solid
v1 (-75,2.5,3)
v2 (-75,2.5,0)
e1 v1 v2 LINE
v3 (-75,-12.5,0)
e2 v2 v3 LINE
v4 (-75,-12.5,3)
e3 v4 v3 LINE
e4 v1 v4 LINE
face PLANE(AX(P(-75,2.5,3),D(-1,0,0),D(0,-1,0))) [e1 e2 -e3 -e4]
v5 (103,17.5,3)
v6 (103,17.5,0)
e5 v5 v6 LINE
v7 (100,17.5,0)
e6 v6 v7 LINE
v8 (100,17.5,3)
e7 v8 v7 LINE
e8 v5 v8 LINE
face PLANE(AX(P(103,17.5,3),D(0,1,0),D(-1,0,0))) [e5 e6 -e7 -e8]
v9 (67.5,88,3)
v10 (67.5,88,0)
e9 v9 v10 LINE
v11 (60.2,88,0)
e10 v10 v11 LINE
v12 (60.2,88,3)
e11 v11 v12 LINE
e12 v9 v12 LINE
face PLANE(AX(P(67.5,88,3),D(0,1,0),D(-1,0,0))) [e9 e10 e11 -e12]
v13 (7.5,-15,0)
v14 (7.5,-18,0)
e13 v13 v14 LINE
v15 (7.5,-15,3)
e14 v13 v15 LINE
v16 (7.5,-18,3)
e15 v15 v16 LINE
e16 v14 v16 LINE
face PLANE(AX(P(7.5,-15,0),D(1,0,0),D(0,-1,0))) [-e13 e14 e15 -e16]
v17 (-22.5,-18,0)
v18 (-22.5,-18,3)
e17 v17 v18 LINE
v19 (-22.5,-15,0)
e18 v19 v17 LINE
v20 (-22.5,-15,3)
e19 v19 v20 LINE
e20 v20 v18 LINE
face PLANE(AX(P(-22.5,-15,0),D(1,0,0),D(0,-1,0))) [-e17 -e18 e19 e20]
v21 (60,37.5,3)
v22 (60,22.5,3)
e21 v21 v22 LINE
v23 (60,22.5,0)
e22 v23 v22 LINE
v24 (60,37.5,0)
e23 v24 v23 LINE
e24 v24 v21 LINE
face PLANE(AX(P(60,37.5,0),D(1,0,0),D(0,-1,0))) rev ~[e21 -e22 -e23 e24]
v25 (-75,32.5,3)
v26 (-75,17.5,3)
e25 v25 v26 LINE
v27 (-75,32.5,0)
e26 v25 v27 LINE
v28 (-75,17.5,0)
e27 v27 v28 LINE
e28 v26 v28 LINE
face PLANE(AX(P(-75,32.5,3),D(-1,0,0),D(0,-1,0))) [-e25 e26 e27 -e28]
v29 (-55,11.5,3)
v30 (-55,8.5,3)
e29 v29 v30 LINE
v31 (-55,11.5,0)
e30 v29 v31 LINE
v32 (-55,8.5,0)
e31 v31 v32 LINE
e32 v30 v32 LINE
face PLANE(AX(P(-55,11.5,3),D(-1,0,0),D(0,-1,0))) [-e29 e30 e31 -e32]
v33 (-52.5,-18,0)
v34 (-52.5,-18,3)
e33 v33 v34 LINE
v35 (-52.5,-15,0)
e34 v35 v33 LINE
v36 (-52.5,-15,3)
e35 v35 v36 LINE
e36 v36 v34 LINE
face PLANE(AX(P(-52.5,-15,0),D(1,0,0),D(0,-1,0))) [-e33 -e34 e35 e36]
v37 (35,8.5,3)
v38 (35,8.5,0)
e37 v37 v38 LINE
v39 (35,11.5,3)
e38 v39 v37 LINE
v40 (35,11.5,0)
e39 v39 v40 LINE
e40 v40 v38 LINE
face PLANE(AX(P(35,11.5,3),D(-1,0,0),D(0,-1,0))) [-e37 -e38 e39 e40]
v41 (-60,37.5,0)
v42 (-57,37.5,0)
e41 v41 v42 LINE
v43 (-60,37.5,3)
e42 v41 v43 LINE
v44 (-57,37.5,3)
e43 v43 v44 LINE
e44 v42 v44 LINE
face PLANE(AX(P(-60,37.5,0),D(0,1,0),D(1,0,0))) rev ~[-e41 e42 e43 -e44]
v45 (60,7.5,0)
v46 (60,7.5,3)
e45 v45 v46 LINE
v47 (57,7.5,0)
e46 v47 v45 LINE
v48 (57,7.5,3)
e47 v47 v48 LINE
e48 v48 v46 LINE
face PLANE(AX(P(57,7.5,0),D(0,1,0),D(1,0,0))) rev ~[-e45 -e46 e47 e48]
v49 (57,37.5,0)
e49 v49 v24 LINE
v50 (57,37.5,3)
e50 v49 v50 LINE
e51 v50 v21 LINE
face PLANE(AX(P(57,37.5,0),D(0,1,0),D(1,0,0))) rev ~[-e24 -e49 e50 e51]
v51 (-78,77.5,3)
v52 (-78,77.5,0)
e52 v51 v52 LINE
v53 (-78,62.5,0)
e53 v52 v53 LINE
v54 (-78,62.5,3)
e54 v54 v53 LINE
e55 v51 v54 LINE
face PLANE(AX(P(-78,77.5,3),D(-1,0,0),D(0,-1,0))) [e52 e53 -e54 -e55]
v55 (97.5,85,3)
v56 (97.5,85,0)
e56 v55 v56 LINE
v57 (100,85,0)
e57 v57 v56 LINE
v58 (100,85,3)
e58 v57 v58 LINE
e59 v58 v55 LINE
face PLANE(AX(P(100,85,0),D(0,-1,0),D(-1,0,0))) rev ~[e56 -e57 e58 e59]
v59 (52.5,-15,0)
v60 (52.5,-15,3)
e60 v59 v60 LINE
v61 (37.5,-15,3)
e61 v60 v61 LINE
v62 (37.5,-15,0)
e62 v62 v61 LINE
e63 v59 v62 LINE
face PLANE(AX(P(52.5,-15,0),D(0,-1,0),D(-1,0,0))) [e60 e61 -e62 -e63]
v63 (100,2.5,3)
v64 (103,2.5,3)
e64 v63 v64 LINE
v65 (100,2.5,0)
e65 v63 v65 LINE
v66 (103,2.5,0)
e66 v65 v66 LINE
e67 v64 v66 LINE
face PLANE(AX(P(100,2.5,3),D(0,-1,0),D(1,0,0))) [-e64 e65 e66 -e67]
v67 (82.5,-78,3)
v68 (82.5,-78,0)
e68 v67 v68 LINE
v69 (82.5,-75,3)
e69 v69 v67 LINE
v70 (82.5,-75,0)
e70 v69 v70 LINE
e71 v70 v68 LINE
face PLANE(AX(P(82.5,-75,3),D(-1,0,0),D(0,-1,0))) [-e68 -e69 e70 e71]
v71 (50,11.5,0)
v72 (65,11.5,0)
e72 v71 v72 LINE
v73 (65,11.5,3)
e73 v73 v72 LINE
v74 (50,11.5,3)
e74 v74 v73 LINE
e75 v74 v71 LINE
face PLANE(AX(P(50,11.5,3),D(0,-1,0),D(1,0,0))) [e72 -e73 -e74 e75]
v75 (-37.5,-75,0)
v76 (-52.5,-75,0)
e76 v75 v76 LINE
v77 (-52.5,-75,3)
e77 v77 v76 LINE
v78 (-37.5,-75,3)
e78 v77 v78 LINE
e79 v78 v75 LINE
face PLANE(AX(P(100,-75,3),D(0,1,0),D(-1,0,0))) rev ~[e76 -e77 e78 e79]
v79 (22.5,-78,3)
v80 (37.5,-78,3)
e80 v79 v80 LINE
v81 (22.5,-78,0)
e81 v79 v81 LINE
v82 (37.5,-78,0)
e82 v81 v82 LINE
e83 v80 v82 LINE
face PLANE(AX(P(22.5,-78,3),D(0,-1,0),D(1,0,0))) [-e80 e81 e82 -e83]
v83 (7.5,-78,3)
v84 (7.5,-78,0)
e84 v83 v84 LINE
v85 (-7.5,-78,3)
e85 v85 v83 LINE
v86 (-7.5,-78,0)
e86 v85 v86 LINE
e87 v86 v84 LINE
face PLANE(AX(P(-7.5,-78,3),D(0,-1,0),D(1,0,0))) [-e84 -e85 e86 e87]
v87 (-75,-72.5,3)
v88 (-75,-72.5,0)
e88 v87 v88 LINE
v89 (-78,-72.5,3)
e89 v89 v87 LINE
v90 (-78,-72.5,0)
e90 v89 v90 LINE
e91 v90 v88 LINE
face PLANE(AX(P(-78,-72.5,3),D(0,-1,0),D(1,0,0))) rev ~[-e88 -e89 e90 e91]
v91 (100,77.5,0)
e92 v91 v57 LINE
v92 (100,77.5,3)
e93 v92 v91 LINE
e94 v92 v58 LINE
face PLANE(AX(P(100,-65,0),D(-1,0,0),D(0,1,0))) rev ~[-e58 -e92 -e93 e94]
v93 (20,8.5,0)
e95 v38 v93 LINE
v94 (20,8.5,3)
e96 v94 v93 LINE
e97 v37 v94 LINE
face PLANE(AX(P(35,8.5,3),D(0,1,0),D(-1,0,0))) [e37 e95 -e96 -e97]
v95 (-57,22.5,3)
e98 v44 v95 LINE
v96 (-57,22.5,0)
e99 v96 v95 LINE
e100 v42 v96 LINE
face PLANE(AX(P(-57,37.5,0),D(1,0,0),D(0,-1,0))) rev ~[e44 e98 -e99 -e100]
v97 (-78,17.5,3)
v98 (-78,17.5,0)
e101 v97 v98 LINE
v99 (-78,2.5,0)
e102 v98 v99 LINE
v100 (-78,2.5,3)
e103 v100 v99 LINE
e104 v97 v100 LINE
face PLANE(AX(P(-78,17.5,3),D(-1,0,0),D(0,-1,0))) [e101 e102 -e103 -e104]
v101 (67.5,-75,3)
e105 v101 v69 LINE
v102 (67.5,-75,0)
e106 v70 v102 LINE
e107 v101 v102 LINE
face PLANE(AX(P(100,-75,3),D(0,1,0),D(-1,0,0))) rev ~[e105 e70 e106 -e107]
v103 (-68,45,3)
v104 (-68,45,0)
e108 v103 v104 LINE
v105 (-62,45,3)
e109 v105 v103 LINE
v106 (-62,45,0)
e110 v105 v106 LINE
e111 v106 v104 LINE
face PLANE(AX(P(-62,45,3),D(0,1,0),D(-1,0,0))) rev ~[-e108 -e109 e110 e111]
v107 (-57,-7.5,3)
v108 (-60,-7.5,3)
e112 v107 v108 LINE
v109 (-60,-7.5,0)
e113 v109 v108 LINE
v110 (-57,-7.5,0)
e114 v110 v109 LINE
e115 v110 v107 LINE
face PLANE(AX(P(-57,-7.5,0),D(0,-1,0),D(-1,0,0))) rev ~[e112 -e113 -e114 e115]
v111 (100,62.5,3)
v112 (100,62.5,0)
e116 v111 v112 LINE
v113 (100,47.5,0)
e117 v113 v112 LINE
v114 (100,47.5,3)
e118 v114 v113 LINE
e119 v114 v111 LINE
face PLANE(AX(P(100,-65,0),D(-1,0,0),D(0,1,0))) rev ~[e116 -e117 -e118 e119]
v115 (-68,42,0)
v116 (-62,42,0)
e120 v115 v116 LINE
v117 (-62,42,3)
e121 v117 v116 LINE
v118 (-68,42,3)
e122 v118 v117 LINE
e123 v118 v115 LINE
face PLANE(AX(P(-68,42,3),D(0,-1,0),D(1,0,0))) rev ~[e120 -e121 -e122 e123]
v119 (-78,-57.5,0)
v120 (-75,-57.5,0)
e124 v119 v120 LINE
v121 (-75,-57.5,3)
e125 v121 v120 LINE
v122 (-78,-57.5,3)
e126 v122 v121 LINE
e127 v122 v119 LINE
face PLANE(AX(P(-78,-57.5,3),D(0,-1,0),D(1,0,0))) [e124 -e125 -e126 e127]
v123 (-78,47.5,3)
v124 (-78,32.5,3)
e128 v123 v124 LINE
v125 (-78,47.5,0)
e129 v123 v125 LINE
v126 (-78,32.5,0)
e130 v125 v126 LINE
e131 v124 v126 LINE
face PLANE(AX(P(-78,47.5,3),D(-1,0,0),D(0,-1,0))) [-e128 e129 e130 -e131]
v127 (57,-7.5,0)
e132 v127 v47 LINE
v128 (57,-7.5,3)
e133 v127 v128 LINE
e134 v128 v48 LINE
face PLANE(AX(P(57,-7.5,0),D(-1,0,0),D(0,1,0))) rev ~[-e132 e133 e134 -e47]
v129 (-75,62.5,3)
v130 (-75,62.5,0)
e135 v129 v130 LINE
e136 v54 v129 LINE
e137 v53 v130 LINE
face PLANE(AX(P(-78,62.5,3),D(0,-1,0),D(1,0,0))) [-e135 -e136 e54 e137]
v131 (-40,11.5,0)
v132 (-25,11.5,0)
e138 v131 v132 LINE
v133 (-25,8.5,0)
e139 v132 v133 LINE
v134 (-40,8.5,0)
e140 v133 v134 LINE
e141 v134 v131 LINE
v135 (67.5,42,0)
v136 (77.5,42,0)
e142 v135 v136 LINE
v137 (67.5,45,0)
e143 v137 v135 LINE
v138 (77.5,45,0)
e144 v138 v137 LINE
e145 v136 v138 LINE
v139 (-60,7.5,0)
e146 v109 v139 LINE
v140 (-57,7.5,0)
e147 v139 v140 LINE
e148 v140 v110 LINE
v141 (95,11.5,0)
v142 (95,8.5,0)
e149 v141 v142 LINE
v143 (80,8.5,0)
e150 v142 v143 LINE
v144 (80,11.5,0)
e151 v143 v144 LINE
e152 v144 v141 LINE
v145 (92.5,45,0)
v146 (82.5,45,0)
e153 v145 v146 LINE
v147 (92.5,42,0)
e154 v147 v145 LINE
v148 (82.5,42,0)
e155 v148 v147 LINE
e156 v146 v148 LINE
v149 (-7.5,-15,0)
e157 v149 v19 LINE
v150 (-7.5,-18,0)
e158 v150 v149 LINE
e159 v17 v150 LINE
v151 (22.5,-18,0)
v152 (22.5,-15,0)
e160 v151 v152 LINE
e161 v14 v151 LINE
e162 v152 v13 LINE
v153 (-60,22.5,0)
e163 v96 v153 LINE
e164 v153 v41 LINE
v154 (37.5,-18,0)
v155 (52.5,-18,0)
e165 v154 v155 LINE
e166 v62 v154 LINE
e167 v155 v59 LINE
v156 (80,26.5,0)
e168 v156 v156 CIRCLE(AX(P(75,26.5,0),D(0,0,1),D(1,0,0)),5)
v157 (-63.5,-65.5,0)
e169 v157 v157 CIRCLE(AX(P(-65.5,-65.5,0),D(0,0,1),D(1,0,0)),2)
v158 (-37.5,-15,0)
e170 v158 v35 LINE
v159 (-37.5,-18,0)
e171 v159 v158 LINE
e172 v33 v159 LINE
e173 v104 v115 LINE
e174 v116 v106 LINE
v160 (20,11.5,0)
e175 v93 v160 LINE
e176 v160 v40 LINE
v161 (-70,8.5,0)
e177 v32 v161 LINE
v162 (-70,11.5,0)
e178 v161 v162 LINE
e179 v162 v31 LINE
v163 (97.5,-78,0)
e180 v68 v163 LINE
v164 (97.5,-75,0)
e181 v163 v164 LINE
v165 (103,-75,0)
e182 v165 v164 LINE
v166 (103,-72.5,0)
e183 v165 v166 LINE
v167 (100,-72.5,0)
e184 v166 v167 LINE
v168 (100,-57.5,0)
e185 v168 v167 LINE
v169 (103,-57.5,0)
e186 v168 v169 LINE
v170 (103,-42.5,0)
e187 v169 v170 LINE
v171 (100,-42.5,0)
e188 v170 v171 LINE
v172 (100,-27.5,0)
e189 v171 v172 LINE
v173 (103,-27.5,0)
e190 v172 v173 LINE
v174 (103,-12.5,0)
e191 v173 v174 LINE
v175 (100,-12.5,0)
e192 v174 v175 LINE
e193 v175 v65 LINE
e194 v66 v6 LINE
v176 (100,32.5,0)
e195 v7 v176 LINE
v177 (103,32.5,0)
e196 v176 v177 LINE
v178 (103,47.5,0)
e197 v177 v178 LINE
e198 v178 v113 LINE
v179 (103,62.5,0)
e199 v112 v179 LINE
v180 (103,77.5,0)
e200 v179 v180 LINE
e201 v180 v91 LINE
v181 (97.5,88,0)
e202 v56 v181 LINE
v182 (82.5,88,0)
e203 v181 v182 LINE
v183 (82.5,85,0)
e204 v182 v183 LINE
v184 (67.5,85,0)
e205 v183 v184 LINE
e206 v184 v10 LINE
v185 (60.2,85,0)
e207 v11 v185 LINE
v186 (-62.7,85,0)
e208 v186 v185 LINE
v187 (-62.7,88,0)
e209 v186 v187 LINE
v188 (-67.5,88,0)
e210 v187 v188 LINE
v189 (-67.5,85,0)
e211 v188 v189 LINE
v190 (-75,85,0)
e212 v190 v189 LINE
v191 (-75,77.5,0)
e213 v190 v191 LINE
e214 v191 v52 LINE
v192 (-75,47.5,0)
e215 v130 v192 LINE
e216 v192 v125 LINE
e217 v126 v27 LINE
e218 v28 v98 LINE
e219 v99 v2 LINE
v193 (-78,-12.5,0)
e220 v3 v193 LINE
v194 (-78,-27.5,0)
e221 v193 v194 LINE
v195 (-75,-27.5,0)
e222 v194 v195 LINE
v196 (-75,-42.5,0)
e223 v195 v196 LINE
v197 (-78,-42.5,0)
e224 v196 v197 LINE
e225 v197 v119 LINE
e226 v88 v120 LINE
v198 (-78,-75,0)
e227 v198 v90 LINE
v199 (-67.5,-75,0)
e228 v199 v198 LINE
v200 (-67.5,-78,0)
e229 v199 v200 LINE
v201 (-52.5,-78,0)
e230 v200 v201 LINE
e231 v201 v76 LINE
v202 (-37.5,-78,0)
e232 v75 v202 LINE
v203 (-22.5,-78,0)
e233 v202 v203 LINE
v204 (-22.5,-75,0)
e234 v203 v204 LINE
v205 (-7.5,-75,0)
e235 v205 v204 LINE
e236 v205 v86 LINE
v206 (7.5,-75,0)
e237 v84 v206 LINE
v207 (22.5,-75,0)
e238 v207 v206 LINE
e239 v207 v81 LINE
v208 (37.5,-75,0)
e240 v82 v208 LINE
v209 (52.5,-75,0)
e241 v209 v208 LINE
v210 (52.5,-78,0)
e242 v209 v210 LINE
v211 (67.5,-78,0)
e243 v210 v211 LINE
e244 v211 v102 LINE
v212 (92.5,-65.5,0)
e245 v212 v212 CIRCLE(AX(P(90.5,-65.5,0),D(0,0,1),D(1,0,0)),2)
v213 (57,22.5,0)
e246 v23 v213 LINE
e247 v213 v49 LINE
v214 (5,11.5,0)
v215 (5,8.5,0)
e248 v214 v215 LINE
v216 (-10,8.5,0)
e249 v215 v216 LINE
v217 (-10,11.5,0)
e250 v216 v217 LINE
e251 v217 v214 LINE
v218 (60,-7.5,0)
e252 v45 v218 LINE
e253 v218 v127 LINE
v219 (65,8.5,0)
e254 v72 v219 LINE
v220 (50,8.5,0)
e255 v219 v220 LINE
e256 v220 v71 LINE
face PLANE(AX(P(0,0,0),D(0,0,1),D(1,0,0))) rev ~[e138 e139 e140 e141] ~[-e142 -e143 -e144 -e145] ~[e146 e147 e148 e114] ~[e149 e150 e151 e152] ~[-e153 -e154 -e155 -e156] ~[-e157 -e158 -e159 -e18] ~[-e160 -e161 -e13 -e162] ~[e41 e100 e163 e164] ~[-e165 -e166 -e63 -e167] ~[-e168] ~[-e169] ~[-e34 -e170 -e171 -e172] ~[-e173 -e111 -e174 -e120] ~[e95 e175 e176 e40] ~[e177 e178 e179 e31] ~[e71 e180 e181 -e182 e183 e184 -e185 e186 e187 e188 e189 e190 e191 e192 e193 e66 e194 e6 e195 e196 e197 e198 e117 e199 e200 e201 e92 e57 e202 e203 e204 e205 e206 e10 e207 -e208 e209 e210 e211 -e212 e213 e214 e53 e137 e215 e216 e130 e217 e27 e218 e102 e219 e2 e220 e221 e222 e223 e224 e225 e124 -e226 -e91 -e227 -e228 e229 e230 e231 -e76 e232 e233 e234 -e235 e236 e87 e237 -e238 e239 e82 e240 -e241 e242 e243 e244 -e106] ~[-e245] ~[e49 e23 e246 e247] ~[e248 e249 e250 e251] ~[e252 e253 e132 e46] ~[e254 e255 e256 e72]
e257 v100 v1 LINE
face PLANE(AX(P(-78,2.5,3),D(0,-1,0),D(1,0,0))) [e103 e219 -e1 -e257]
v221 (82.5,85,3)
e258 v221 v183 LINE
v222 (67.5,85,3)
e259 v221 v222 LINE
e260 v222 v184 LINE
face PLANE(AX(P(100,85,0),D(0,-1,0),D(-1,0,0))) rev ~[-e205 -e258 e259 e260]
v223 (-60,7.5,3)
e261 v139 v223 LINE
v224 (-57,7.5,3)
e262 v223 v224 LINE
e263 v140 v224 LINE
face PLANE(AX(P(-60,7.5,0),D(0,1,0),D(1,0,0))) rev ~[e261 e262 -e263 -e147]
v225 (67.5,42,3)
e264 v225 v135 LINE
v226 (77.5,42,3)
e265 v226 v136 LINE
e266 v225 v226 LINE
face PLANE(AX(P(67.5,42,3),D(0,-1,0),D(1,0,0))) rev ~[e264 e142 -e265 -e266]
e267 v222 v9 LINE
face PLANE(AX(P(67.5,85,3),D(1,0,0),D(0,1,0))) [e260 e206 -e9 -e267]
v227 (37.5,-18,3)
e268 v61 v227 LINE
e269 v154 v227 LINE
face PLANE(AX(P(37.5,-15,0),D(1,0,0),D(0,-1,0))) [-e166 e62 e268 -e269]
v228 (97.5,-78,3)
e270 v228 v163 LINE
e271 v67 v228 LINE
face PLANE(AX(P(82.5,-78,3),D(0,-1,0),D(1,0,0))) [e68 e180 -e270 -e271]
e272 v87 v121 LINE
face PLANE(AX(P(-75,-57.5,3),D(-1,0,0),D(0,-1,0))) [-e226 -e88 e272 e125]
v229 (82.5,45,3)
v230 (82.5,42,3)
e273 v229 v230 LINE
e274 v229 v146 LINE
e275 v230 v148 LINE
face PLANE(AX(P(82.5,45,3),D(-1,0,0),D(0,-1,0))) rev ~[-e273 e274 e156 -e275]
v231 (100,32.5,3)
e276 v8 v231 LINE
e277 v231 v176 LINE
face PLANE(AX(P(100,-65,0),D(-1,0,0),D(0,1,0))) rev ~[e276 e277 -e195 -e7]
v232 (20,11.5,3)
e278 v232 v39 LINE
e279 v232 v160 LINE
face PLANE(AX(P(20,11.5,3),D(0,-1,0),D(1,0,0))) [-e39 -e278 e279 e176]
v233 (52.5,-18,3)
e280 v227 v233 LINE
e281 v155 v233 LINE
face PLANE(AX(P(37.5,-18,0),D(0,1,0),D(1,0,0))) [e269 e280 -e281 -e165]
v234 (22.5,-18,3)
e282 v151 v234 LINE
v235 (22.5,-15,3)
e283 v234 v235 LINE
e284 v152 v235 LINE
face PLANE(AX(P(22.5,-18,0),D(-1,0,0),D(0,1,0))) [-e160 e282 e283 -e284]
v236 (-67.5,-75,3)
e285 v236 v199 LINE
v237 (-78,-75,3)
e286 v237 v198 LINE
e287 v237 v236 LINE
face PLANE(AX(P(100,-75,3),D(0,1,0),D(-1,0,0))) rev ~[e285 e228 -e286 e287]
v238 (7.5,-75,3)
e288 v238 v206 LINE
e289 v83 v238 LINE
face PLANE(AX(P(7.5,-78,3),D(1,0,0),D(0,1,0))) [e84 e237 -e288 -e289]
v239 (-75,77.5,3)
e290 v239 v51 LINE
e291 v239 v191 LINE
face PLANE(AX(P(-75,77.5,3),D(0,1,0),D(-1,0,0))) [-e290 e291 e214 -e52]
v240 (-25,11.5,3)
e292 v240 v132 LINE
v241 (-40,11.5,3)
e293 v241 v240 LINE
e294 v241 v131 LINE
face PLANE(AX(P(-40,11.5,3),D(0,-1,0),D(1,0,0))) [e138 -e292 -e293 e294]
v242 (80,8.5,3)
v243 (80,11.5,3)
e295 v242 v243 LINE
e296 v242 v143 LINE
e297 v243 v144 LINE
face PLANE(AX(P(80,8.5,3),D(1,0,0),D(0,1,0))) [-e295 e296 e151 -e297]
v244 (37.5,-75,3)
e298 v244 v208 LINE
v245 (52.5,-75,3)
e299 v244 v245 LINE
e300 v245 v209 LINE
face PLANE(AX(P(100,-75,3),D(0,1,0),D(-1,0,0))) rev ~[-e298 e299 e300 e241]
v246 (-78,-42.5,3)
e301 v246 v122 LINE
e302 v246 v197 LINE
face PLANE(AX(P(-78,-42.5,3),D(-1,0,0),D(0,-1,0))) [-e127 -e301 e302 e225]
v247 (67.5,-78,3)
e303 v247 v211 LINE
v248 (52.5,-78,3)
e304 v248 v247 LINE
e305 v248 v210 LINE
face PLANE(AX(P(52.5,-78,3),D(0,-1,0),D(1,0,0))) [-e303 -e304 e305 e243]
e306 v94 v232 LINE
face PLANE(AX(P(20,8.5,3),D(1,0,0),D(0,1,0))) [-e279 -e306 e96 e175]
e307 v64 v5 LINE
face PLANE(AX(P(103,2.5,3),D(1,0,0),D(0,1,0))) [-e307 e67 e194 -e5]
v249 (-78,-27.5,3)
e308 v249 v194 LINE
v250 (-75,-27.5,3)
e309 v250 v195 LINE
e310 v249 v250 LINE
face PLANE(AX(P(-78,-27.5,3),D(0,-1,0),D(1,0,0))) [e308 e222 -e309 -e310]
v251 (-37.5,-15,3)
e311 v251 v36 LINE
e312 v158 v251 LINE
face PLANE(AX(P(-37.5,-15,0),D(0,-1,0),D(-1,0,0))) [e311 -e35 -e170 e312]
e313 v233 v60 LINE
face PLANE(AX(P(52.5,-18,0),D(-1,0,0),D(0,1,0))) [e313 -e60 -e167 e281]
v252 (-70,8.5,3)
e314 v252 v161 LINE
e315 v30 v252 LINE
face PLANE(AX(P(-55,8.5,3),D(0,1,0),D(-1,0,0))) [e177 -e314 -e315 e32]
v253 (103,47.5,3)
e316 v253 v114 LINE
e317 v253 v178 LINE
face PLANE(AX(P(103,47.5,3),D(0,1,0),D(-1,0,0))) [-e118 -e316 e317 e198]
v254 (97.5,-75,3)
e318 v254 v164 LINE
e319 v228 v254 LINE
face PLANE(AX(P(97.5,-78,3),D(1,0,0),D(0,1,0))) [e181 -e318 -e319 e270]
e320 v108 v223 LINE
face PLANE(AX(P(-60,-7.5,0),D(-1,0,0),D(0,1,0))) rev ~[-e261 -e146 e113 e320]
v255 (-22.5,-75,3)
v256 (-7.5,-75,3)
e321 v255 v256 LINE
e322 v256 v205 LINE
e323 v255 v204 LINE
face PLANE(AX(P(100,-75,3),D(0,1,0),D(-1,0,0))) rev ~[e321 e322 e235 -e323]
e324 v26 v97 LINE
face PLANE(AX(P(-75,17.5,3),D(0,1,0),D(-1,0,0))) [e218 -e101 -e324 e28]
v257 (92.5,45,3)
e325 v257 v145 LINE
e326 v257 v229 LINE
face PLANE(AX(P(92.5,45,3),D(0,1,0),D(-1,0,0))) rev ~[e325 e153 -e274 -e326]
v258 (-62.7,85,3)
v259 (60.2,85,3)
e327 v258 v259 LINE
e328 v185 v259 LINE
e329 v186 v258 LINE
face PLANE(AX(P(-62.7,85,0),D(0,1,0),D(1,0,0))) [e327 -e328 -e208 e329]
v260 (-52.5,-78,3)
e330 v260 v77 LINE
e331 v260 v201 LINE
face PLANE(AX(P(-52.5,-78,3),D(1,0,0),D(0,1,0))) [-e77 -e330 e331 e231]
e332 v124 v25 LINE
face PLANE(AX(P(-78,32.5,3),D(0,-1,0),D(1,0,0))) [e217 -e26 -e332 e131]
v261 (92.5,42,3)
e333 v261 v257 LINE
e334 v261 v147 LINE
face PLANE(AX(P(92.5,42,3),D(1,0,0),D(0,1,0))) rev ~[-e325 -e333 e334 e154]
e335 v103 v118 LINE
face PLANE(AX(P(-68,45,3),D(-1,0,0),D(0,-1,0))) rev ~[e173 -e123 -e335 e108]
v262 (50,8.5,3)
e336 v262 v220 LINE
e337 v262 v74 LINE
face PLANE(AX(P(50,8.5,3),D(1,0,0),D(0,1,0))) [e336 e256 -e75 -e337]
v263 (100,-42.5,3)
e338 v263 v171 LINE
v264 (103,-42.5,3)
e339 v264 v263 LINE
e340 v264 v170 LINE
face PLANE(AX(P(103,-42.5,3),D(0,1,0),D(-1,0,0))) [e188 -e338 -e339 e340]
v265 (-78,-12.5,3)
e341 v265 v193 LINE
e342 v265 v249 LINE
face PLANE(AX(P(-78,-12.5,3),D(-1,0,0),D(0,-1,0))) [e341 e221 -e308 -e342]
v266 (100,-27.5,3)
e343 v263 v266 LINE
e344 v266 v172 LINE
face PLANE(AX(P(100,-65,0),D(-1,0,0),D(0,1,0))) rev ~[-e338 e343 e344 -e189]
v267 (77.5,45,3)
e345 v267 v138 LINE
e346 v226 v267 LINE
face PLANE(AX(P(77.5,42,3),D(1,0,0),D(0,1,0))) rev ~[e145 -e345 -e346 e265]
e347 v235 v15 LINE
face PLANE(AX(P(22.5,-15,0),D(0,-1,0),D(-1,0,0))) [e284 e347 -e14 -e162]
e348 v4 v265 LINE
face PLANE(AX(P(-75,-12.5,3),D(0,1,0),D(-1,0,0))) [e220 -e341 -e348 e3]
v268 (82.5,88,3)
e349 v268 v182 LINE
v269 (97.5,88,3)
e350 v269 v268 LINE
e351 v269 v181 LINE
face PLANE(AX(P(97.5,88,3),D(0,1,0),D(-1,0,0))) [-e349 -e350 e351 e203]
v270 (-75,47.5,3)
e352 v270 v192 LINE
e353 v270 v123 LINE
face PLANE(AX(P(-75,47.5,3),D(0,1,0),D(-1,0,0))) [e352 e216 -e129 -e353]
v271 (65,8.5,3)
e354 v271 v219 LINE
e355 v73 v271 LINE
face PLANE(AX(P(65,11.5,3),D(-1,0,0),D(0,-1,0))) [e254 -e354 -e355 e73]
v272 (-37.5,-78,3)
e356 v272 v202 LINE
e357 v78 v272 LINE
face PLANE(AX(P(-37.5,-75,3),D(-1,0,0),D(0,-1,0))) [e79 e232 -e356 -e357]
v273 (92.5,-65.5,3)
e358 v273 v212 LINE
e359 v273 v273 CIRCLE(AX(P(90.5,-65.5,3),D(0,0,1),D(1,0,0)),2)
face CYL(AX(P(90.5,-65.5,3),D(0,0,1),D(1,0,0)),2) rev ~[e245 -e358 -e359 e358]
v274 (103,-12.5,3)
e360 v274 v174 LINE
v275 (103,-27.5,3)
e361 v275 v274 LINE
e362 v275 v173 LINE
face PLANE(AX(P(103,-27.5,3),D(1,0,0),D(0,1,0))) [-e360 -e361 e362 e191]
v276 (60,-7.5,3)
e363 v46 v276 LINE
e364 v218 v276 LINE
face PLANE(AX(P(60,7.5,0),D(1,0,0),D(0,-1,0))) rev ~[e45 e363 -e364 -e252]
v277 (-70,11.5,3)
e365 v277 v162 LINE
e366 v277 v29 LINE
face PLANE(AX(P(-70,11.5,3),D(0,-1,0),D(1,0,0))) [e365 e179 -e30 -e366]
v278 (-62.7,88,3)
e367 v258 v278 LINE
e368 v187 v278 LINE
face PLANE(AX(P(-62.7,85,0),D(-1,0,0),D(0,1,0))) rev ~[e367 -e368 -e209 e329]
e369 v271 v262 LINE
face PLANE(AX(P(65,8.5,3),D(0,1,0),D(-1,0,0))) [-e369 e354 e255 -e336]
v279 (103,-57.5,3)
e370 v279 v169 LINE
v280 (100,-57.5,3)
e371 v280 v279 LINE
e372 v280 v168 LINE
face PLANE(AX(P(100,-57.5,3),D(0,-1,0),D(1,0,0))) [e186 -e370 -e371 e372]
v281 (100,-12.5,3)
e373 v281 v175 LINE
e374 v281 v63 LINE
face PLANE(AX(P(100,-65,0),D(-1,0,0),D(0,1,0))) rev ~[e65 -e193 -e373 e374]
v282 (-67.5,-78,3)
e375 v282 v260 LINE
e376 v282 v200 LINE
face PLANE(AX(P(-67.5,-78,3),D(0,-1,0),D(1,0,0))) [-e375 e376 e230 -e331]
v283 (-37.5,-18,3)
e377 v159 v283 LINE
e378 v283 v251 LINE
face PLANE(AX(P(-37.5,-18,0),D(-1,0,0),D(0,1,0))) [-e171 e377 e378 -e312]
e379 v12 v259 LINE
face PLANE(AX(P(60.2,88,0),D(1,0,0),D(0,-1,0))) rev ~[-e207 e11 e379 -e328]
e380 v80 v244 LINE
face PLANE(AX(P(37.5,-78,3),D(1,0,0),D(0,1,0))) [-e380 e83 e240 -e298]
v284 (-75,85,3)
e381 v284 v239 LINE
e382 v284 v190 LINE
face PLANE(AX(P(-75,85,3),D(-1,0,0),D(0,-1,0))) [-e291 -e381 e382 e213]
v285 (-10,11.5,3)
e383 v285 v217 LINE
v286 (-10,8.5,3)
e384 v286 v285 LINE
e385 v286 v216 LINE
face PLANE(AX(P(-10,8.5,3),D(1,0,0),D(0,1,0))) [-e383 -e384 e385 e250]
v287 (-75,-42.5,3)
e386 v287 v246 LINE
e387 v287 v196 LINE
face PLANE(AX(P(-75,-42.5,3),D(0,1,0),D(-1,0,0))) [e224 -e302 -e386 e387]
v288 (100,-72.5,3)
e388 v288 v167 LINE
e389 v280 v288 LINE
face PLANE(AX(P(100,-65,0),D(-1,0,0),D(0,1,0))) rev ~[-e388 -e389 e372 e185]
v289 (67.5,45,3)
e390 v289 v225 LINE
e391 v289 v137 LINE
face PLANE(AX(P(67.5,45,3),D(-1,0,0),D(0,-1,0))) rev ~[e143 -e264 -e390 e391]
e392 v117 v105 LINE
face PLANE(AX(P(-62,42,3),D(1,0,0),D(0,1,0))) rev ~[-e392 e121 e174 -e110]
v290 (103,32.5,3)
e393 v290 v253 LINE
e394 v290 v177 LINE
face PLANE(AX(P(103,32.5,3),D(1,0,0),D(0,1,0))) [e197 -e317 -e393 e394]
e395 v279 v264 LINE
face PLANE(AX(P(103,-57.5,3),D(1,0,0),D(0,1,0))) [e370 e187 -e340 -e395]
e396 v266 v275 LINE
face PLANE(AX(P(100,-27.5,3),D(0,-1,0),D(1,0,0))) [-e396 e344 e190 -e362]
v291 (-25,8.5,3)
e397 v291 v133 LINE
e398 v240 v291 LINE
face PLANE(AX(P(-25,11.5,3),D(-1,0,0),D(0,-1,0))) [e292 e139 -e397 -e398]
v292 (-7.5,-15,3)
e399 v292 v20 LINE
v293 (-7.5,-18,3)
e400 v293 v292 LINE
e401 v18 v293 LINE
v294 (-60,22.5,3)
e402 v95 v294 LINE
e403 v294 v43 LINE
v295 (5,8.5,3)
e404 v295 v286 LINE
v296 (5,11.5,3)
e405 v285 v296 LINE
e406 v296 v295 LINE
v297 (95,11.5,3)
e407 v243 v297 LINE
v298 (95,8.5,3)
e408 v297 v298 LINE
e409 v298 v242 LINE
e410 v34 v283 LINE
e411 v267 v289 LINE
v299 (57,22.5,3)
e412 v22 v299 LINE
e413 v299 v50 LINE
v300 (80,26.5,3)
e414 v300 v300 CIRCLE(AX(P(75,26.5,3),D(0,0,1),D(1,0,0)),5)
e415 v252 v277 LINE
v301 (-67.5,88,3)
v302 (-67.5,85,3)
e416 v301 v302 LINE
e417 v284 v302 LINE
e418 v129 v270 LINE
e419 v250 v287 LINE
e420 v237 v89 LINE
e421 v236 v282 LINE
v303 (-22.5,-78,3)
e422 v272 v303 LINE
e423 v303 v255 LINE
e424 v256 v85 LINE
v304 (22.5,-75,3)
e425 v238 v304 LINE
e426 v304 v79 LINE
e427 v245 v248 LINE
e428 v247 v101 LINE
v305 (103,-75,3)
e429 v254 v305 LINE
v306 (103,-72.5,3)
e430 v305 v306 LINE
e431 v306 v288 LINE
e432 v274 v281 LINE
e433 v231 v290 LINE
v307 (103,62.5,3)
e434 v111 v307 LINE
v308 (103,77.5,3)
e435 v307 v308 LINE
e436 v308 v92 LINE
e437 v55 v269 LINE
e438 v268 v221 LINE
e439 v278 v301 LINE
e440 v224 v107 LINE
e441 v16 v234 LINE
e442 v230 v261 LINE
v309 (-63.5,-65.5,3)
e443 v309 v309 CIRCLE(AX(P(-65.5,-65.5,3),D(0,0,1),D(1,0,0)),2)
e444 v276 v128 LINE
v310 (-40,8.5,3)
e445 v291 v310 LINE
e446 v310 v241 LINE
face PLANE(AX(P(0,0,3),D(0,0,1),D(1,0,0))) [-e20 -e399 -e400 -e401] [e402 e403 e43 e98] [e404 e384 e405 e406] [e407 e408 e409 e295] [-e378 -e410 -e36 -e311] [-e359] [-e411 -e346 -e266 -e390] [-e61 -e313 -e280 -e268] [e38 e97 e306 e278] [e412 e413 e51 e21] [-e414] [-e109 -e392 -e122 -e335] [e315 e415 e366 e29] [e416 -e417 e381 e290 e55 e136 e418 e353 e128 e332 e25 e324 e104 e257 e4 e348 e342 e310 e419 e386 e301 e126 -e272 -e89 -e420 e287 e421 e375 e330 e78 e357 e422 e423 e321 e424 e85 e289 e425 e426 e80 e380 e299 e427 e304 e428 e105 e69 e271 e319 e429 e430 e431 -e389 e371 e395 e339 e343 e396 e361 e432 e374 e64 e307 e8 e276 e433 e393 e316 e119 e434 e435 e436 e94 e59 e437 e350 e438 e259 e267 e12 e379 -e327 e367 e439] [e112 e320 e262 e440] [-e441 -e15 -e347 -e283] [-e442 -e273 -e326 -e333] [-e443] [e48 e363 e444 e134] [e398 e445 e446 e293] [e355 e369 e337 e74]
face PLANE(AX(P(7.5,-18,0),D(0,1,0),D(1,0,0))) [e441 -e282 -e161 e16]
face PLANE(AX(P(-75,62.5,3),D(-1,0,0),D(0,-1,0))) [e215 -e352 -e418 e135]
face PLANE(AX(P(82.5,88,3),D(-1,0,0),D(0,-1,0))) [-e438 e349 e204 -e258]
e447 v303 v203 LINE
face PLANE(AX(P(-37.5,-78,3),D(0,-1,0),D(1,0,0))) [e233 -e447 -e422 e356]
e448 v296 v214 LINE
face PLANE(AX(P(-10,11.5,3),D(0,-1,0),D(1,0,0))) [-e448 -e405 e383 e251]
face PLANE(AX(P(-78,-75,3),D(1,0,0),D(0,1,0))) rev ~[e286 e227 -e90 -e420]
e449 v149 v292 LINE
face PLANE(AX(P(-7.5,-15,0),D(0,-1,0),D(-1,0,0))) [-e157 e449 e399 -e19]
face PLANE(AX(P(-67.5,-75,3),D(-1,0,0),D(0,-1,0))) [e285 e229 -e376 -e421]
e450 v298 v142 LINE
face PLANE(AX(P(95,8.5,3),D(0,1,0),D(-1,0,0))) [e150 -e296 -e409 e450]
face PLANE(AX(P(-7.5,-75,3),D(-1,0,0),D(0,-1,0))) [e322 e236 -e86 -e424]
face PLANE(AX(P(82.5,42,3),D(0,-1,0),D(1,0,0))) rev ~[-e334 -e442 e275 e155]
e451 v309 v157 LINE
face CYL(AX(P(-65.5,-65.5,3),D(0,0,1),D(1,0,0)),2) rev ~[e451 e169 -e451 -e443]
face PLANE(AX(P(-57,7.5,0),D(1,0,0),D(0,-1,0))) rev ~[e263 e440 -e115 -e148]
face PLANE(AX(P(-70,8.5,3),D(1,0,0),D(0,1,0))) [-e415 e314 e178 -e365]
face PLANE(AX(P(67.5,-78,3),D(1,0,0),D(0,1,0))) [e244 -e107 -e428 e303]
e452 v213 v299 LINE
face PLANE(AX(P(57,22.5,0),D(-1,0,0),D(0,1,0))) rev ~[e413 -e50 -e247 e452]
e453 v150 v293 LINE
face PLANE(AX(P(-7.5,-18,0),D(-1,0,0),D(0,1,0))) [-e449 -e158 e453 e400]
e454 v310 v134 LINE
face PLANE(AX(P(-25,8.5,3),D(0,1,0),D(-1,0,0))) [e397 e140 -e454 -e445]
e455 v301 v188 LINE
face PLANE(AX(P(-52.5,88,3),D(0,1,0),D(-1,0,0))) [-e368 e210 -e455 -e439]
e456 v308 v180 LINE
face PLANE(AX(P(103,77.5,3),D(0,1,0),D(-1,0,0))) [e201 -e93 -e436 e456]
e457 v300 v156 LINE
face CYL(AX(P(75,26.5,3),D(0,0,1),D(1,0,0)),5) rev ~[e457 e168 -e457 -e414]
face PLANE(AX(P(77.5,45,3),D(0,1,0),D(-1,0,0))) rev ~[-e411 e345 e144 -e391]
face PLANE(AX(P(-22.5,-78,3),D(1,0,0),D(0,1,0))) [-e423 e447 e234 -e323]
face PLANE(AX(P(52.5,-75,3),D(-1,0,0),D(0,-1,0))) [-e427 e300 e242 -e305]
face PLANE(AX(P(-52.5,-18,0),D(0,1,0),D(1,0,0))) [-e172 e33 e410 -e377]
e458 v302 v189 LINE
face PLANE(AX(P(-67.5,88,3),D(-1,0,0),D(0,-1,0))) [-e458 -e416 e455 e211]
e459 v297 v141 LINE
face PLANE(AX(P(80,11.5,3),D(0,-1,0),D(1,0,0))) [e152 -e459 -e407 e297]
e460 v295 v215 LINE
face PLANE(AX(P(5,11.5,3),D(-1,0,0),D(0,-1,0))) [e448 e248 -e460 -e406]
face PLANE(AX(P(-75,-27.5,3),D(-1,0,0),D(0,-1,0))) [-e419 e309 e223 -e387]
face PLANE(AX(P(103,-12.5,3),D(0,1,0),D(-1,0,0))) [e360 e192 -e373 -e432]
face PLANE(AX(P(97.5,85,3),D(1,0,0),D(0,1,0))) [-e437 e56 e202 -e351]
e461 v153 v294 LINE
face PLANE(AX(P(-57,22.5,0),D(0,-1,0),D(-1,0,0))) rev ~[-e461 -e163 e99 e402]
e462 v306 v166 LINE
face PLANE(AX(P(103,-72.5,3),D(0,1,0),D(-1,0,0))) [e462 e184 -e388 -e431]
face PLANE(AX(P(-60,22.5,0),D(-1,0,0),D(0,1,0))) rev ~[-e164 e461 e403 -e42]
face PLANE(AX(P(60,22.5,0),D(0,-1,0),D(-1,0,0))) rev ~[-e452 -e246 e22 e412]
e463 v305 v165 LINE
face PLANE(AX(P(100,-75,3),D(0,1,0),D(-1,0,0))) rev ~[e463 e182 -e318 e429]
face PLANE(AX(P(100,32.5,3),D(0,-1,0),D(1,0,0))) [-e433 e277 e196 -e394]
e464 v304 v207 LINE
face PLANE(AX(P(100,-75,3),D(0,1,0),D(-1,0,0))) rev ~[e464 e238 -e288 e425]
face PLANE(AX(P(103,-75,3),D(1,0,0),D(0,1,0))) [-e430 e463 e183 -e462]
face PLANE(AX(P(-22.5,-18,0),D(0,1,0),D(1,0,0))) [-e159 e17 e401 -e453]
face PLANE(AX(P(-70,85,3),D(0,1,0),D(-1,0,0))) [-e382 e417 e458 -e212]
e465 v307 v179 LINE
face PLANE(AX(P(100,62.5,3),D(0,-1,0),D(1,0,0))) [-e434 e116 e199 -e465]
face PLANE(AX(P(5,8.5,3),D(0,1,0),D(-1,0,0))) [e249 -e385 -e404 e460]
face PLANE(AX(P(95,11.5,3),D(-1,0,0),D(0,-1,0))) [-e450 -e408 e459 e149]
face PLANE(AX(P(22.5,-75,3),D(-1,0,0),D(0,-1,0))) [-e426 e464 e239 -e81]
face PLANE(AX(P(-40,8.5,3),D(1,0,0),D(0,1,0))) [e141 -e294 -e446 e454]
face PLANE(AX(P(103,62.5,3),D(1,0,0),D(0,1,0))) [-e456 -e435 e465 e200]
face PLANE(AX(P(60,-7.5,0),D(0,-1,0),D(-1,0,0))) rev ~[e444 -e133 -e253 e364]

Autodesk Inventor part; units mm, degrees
ref_plane "YZ Plane" through (0, 0, 0) normal (1, 0, 0) x (0, 1, 0)
ref_plane "XZ Plane" through (0, 0, 0) normal (0, 1, 0) x (-1, 0, 0)
ref_plane "XY Plane" through (0, 0, 0) normal (0, 0, 1) x (1, 0, 0)
sketch "Sketch1" plane through (0, 0, 0) normal (0, 0, 1) x (1, 0, 0)
  line L0 (-70, -65) -> (70, -65)
  line L1 (-70, 65) -> (-70, -65)
  line L2 (-70, -65) -> (70, 65) construction
  line L3 (70, -65) -> (-70, 65) construction
  line L4 (-52.5, -18) -> (-37.5, -18)
  line L5 (-37.5, -18) -> (-37.5, -15)
  line L6 (-37.5, -15) -> (-52.5, -15)
  line L7 (-52.5, -15) -> (-52.5, -18)
  line L8 (-52.5, -18) -> (-37.5, -15) construction
  line L9 (-37.5, -18) -> (-52.5, -15) construction
  line L10 (-22.5, -18) -> (-7.5, -18)
  line L11 (-7.5, -18) -> (-7.5, -15)
  line L12 (-7.5, -15) -> (-22.5, -15)
  line L13 (-22.5, -15) -> (-22.5, -18)
  line L14 (-22.5, -18) -> (-7.5, -15) construction
  line L15 (-7.5, -18) -> (-22.5, -15) construction
  line L16 (7.5, -18) -> (22.5, -18)
  line L17 (22.5, -18) -> (22.5, -15)
  line L18 (22.5, -15) -> (7.5, -15)
  line L19 (7.5, -15) -> (7.5, -18)
  line L20 (7.5, -18) -> (22.5, -15) construction
  line L21 (22.5, -18) -> (7.5, -15) construction
  line L22 (37.5, -18) -> (52.5, -18)
  line L23 (52.5, -18) -> (52.5, -15)
  line L24 (52.5, -15) -> (37.5, -15)
  line L25 (37.5, -15) -> (37.5, -18)
  line L26 (37.5, -18) -> (52.5, -15) construction
  line L27 (52.5, -18) -> (37.5, -15) construction
  line L28 (-52.5, -15) -> (-57, -15) construction
  line L29 (-57, -15) -> (-57, -7.5) construction
  line L30 (-57, -7.5) -> (-60, -7.5)
  line L31 (-60, -7.5) -> (-60, 7.5)
  line L32 (-60, 7.5) -> (-57, 7.5)
  line L33 (-57, 7.5) -> (-57, -7.5)
  line L34 (-60, 37.5) -> (-57, 37.5)
  line L35 (-60, 22.5) -> (-60, 37.5)
  line L36 (-57, 37.5) -> (-57, 22.5)
  line L37 (-57, 22.5) -> (-60, 22.5)
  line L38 (57, 7.5) -> (60, 7.5)
  line L39 (57, -7.5) -> (57, 7.5)
  line L40 (60, 7.5) -> (60, -7.5)
  line L41 (60, -7.5) -> (57, -7.5)
  line L42 (57, 37.5) -> (60, 37.5)
  line L43 (57, 22.5) -> (57, 37.5)
  line L44 (60, 37.5) -> (60, 22.5)
  line L45 (60, 22.5) -> (57, 22.5)
  line L46 (70, -65) -> (100, -65)
  line L47 (100, -65) -> (100, 85)
  line L48 (100, 85) -> (-70, 85)
  line L49 (-70, 85) -> (-70, 65)
  point P0 (0, 0)
  point P1 (-45, -16.5)
  point P2 (-15, -16.5)
  point P3 (15, -16.5)
  point P4 (45, -16.5)
  dimension "d0" = 140
  dimension "d1" = 130
  dimension "d2" = 15
  dimension "d3" = 3
  dimension "d4" = 17.5
  dimension "d8" = 30
  dimension "d13" = 4.5
  dimension "d14" = 7.5
  dimension "d15" = 3
  dimension "d16" = 15
  dimension "d19" = 30
  dimension "d22" = 117
  dimension "d27" = 30
  dimension "d28" = 150
  dimension "d29" = 47.121
  dimension "d30" = 47.121
  dimension "d31" = 57.5
extrude "Extrusion1" add sketch "Sketch1" along normal blind 3
sketch "Sketch2" plane through (0, 0, 3) normal (0, 0, 1) x (1, 0, 0)
  line L0 (100, 85) -> (-70, 85) projected
  line L1 (-67.5, 85) -> (-52.5, 85)
  line L2 (-52.5, 85) -> (-52.5, 88)
  line L3 (-52.5, 88) -> (-67.5, 88)
  line L4 (-67.5, 88) -> (-67.5, 85)
  line L5 (-70, 85) -> (-70, -65) projected
  line L6 (-37.5, 85) -> (-22.5, 85)
  line L7 (-22.5, 85) -> (-22.5, 88)
  line L8 (-22.5, 88) -> (-37.5, 88)
  line L9 (-37.5, 88) -> (-37.5, 85)
  line L10 (-7.5, 85) -> (7.5, 85)
  line L11 (7.5, 85) -> (7.5, 88)
  line L12 (7.5, 88) -> (-7.5, 88)
  line L13 (-7.5, 88) -> (-7.5, 85)
  line L14 (22.5, 85) -> (37.5, 85)
  line L15 (37.5, 85) -> (37.5, 88)
  line L16 (37.5, 88) -> (22.5, 88)
  line L17 (22.5, 88) -> (22.5, 85)
  line L18 (52.5, 85) -> (67.5, 85)
  line L19 (67.5, 85) -> (67.5, 88)
  line L20 (67.5, 88) -> (52.5, 88)
  line L21 (52.5, 88) -> (52.5, 85)
  line L22 (82.5, 85) -> (97.5, 85)
  line L23 (97.5, 85) -> (97.5, 88)
  line L24 (97.5, 88) -> (82.5, 88)
  line L25 (82.5, 88) -> (82.5, 85)
  line L26 (-67.5, -78) -> (-52.5, -78)
  line L27 (-52.5, -78) -> (-52.5, -75)
  line L28 (-52.5, -75) -> (-67.5, -75)
  line L29 (-67.5, -75) -> (-67.5, -78)
  line L30 (-37.5, -78) -> (-22.5, -78)
  line L31 (-22.5, -78) -> (-22.5, -75)
  line L32 (-22.5, -75) -> (-37.5, -75)
  line L33 (-37.5, -75) -> (-37.5, -78)
  line L34 (-7.5, -78) -> (7.5, -78)
  line L35 (7.5, -78) -> (7.5, -75)
  line L36 (7.5, -75) -> (-7.5, -75)
  line L37 (-7.5, -75) -> (-7.5, -78)
  line L38 (22.5, -78) -> (37.5, -78)
  line L39 (37.5, -78) -> (37.5, -75)
  line L40 (37.5, -75) -> (22.5, -75)
  line L41 (22.5, -75) -> (22.5, -78)
  line L42 (52.5, -78) -> (67.5, -78)
  line L43 (67.5, -78) -> (67.5, -75)
  line L44 (67.5, -75) -> (52.5, -75)
  line L45 (52.5, -75) -> (52.5, -78)
  line L46 (82.5, -78) -> (97.5, -78)
  line L47 (97.5, -78) -> (97.5, -75)
  line L48 (97.5, -75) -> (82.5, -75)
  line L49 (82.5, -75) -> (82.5, -78)
  line L50 (-70, 77.5) -> (-73, 77.5)
  line L51 (-73, 77.5) -> (-73, 62.5)
  line L52 (-73, 62.5) -> (-70, 62.5)
  line L53 (-70, 62.5) -> (-70, 77.5)
  line L54 (-70, 32.5) -> (-70, 47.5)
  line L55 (-73, 32.5) -> (-70, 32.5)
  line L56 (-73, 47.5) -> (-73, 32.5)
  line L57 (-70, 47.5) -> (-73, 47.5)
  line L58 (-70, 2.5) -> (-70, 17.5)
  line L59 (-73, 2.5) -> (-70, 2.5)
  line L60 (-73, 17.5) -> (-73, 2.5)
  line L61 (-70, 17.5) -> (-73, 17.5)
  line L62 (-70, -27.5) -> (-70, -12.5)
  line L63 (-73, -27.5) -> (-70, -27.5)
  line L64 (-73, -12.5) -> (-73, -27.5)
  line L65 (-70, -12.5) -> (-73, -12.5)
  line L66 (-70, -57.5) -> (-70, -42.5)
  line L67 (-73, -57.5) -> (-70, -57.5)
  line L68 (-73, -42.5) -> (-73, -57.5)
  line L69 (-70, -42.5) -> (-73, -42.5)
  line L70 (103, 62.5) -> (103, 77.5)
  line L71 (100, 62.5) -> (103, 62.5)
  line L72 (100, 77.5) -> (100, 62.5)
  line L73 (103, 77.5) -> (100, 77.5)
  line L74 (103, 32.5) -> (103, 47.5)
  line L75 (100, 32.5) -> (103, 32.5)
  line L76 (100, 47.5) -> (100, 32.5)
  line L77 (103, 47.5) -> (100, 47.5)
  line L78 (103, 2.5) -> (103, 17.5)
  line L79 (100, 2.5) -> (103, 2.5)
  line L80 (100, 17.5) -> (100, 2.5)
  line L81 (103, 17.5) -> (100, 17.5)
  line L82 (103, -27.5) -> (103, -12.5)
  line L83 (100, -27.5) -> (103, -27.5)
  line L84 (100, -12.5) -> (100, -27.5)
  line L85 (103, -12.5) -> (100, -12.5)
  line L86 (103, -57.5) -> (103, -42.5)
  line L87 (100, -57.5) -> (103, -57.5)
  line L88 (100, -42.5) -> (100, -57.5)
  line L89 (103, -42.5) -> (100, -42.5)
  point P0 (0, 0)
  dimension "d32" = 15
  dimension "d33" = 3
  dimension "d34" = 2.5
  dimension "d37" = 30
  dimension "d40" = 163
  dimension "d43" = 3
  dimension "d44" = 15
  dimension "d45" = 7.5
  dimension "d48" = 30
  dimension "d51" = 173
  dimension "d138" = 15
  dimension "d139" = 37.5
extrude "Extrusion2" add sketch "Sketch2" against normal blind 3
sketch "Sketch3" plane through (0, 0, 3) normal (0, 0, 1) x (1, 0, 0)
  line L0 (-57, 22.5) -> (-57, 37.5) projected
  line L1 (-70, 62.5) -> (-70, 47.5) projected
  line L2 (-73, 32.5) -> (-73, 47.5) projected
  line L3 (-62, 42) -> (-62, 45)
  line L4 (-62, 45) -> (-68, 45)
  line L5 (-68, 45) -> (-68, 42)
  line L6 (-68, 42) -> (-62, 42)
  line L7 (-60, 37.5) -> (-60, 22.5) construction
  line L8 (-60, 37.5) -> (-60, 42) construction
  line L9 (-60, 42) -> (-62, 42) construction
  point P0 (0, 0)
  dimension "d67" = 3
  dimension "d68" = 6
  dimension "d69" = 4.5
  dimension "d70" = 2
extrude "Extrusion3" cut sketch "Sketch3" against normal blind 3
sketch "Sketch4" plane through (0, 0, 3) normal (0, 0, 1) x (1, 0, 0)
  line L0 (57, 37.5) -> (57, 22.5) projected
  line L1 (60, 37.5) -> (60, 42) construction
  line L2 (100, 47.5) -> (100, 62.5) projected
  line L3 (-62, 42) -> (-62, 45) projected
  line L4 (60, 42) -> (67.5, 42) construction
  line L5 (67.5, 42) -> (77.5, 42)
  line L6 (77.5, 42) -> (77.5, 45)
  line L7 (77.5, 45) -> (67.5, 45)
  line L8 (67.5, 45) -> (67.5, 42)
  line L9 (77.5, 42) -> (82.5, 42) construction
  line L10 (82.5, 42) -> (92.5, 42)
  line L11 (92.5, 42) -> (92.5, 45)
  line L12 (92.5, 45) -> (82.5, 45)
  line L13 (82.5, 45) -> (82.5, 42)
  point P0 (0, 0)
  dimension "d75" = 4.5
  dimension "d81" = 7.5
  dimension "d82" = 10
  dimension "d83" = 3
  dimension "d84" = 5
  dimension "d85" = 10
  dimension "d86" = 3
extrude "Extrusion4" cut sketch "Sketch4" against normal blind 3
sketch "Sketch5" plane through (0, 0, 3) normal (0, 0, 1) x (1, 0, 0)
  line L0 (-70, 85) -> (-70, 77.5) projected
  line L1 (-70, 85) -> (-75, 85)
  line L2 (-75, 85) -> (-75, 77.5)
  line L3 (-75, 77.5) -> (-78, 77.5)
  line L4 (-78, 77.5) -> (-78, 62.5)
  line L5 (-78, 62.5) -> (-75, 62.5)
  line L6 (-75, 62.5) -> (-75, 47.5)
  line L7 (-75, 47.5) -> (-78, 47.5)
  line L8 (-78, 47.5) -> (-78, 32.5)
  line L9 (-78, 32.5) -> (-75, 32.5)
  line L10 (-75, 32.5) -> (-75, 17.5)
  line L11 (-75, 17.5) -> (-78, 17.5)
  line L12 (-78, 17.5) -> (-78, 2.5)
  line L13 (-78, 2.5) -> (-75, 2.5)
  line L14 (-75, 2.5) -> (-75, -12.5)
  line L15 (-75, -12.5) -> (-78, -12.5)
  line L16 (-78, -12.5) -> (-78, -27.5)
  line L17 (-78, -27.5) -> (-75, -27.5)
  line L18 (-75, -27.5) -> (-75, -42.5)
  line L19 (-75, -42.5) -> (-78, -42.5)
  line L20 (-78, -42.5) -> (-78, -57.5)
  line L21 (-78, -57.5) -> (-75, -57.5)
  line L22 (-75, -57.5) -> (-75, -65)
  line L23 (-70, -65) -> (100, -65) projected
  line L24 (-75, -65) -> (-70, -65)
  line L25 (-70, -65) -> (-70, 85)
  point P0 (0, 0)
  point P1 (-67.5, -65)
  dimension "d89" = 5
  dimension "d90" = 7.5
  dimension "d91" = 3
  dimension "d92" = 15
  dimension "d93" = 3
  dimension "d94" = 15
  dimension "d95" = 3
  dimension "d96" = 15
  dimension "d97" = 3
  dimension "d98" = 15
  dimension "d99" = 3
  dimension "d100" = 15
  dimension "d101" = 3
  dimension "d102" = 15
  dimension "d103" = 3
  dimension "d104" = 15
  dimension "d105" = 3
  dimension "d106" = 15
  dimension "d107" = 3
  dimension "d108" = 15
  dimension "d109" = 3
  dimension "d110" = 7.5
extrude "Extrusion5" add sketch "Sketch5" against normal blind 3
sketch "Sketch6" plane through (0, 0, 0) normal (0, 0, -1) x (-1, 0, 0)
  line L0 (-103, 88) -> (-60.2, 88) construction
  line L1 (-52.5, 88) -> (-67.5, 88) projected
  line L2 (-60.2, 88) -> (-60.2, 85)
  line L3 (78, 85) -> (62.7, 85) construction
  line L4 (67.5, 85) -> (75, 85) projected
  line L5 (62.7, 85) -> (62.7, 88)
  line L6 (67.5, 88) -> (52.5, 88) projected
  line L7 (62.7, 85) -> (-60.2, 85)
  line L8 (-60.2, 88) -> (62.7, 88)
  point P0 (0, 0)
  dimension "d113" = 42.8
  dimension "d114" = 3
  dimension "d115" = 15.3
  dimension "d116" = 122.9
  dimension "d117" = 12.3
extrude "Extrusion6" cut sketch "Sketch6" against normal blind 3
sketch "Sketch7" plane through (0, 0, 3) normal (0, 0, 1) x (1, 0, 0)
  line L0 (-78, 2.5) -> (-78, 17.5) construction
  line L1 (-78, 10) -> (103, 10) construction
  line L2 (103, 2.5) -> (103, 17.5) construction
  line L3 (-70, 11.5) -> (-55, 11.5)
  line L4 (-55, 11.5) -> (-55, 8.5)
  line L5 (-55, 8.5) -> (-70, 8.5)
  line L6 (-70, 8.5) -> (-70, 11.5)
  line L7 (-70, 11.5) -> (-55, 8.5) construction
  line L8 (-55, 11.5) -> (-70, 8.5) construction
  line L9 (-40, 8.5) -> (-40, 11.5)
  line L10 (-40, 11.5) -> (-25, 11.5)
  line L11 (-25, 11.5) -> (-25, 8.5)
  line L12 (-25, 8.5) -> (-40, 8.5)
  line L13 (-10, 8.5) -> (-10, 11.5)
  line L14 (-10, 11.5) -> (5, 11.5)
  line L15 (5, 11.5) -> (5, 8.5)
  line L16 (5, 8.5) -> (-10, 8.5)
  line L17 (20, 8.5) -> (20, 11.5)
  line L18 (20, 11.5) -> (35, 11.5)
  line L19 (35, 11.5) -> (35, 8.5)
  line L20 (35, 8.5) -> (20, 8.5)
  line L21 (50, 8.5) -> (50, 11.5)
  line L22 (50, 11.5) -> (65, 11.5)
  line L23 (65, 11.5) -> (65, 8.5)
  line L24 (65, 8.5) -> (50, 8.5)
  line L25 (80, 8.5) -> (80, 11.5)
  line L26 (80, 11.5) -> (95, 11.5)
  line L27 (95, 11.5) -> (95, 8.5)
  line L28 (95, 8.5) -> (80, 8.5)
  point P0 (0, 0)
  point P1 (-62.5, 10)
  dimension "d120" = 15
  dimension "d121" = 3
  dimension "d124" = 30
  dimension "d129" = 8
extrude "Extrusion7" cut sketch "Sketch7" against normal blind 10
sketch "Sketch8" plane through (0, 0, 3) normal (0, 0, 1) x (1, 0, 0)
  circle A0 centre (75, 26.5) radius 5
  line L0 (80, 11.5) -> (95, 11.5) projected
  line L1 (60, 37.5) -> (60, 22.5) projected
  point P0 (0, 0)
  dimension "d132" = 10
  dimension "d134" = 10
  dimension "d135" = 10
extrude "Extrusion8" cut sketch "Sketch8" against normal blind 10
sketch "Sketch9" plane through (0, 0, 3) normal (0, 0, 1) x (1, 0, 0)
  line L0 (-75, -65) -> (100, -65) projected
  line L1 (-75, -65) -> (100, -65)
  line L2 (100, -65) -> (100, -75)
  line L3 (100, -75) -> (-75, -75)
  line L4 (-75, -75) -> (-75, -65)
  line L5 (-78, -57.5) -> (-75, -57.5) construction
  line L6 (-78, -57.5) -> (-78, -72.5) construction
  line L7 (-78, -72.5) -> (-75, -72.5)
  line L8 (-75, -72.5) -> (-75, -75)
  line L9 (-75, -75) -> (-78, -75)
  line L10 (-78, -75) -> (-78, -72.5)
  line L11 (100, -75) -> (103, -75)
  line L12 (103, -75) -> (103, -72.5)
  line L13 (103, -72.5) -> (100, -72.5)
  line L14 (100, -72.5) -> (100, -75)
  point P0 (0, 0)
  dimension "d140" = 175
  dimension "d141" = 10
  dimension "d143" = 15
  dimension "d144" = 3
  dimension "d145" = 2.5
extrude "Extrusion9" add sketch "Sketch9" against normal blind 3
sketch "Sketch10" plane through (0, 0, 3) normal (0, 0, 1) x (1, 0, 0)
  circle A0 centre (-65.5, -65.5) radius 2
  circle A1 centre (90.5, -65.5) radius 2
  line L0 (-78, -75) -> (-67.5, -75) projected
  line L1 (-75, -57.5) -> (-75, -72.5) projected
  line L2 (97.5, -75) -> (103, -75) projected
  line L3 (100, -72.5) -> (100, -57.5) projected
  point P0 (0, 0)
  dimension "d148" = 4
  dimension "d149" = 4
  dimension "d150" = 9.5
  dimension "d151" = 9.5
  dimension "d152" = 9.5
  dimension "d153" = 9.5
extrude "Extrusion10" cut sketch "Sketch10" against normal blind 10
equation "\"BendRadius\" = Thickness"
equation "\"BendReliefWidth\" = Thickness"
equation "\"BendReliefDepth\" = 0.5 * Thickness"
equation "\"CornerReliefSize\" = 4 * Thickness"
equation "\"MinimumRemnant\" = 2 * Thickness"
equation "\"TransitionRadius\" = BendRadius"
equation "\"JacobiRadiusSize\" = BendRadius"
equation "\"GapSize\" = Thickness"
equation "\"Thickness\" = 0.5"
properties part number "6 boven plaat"
